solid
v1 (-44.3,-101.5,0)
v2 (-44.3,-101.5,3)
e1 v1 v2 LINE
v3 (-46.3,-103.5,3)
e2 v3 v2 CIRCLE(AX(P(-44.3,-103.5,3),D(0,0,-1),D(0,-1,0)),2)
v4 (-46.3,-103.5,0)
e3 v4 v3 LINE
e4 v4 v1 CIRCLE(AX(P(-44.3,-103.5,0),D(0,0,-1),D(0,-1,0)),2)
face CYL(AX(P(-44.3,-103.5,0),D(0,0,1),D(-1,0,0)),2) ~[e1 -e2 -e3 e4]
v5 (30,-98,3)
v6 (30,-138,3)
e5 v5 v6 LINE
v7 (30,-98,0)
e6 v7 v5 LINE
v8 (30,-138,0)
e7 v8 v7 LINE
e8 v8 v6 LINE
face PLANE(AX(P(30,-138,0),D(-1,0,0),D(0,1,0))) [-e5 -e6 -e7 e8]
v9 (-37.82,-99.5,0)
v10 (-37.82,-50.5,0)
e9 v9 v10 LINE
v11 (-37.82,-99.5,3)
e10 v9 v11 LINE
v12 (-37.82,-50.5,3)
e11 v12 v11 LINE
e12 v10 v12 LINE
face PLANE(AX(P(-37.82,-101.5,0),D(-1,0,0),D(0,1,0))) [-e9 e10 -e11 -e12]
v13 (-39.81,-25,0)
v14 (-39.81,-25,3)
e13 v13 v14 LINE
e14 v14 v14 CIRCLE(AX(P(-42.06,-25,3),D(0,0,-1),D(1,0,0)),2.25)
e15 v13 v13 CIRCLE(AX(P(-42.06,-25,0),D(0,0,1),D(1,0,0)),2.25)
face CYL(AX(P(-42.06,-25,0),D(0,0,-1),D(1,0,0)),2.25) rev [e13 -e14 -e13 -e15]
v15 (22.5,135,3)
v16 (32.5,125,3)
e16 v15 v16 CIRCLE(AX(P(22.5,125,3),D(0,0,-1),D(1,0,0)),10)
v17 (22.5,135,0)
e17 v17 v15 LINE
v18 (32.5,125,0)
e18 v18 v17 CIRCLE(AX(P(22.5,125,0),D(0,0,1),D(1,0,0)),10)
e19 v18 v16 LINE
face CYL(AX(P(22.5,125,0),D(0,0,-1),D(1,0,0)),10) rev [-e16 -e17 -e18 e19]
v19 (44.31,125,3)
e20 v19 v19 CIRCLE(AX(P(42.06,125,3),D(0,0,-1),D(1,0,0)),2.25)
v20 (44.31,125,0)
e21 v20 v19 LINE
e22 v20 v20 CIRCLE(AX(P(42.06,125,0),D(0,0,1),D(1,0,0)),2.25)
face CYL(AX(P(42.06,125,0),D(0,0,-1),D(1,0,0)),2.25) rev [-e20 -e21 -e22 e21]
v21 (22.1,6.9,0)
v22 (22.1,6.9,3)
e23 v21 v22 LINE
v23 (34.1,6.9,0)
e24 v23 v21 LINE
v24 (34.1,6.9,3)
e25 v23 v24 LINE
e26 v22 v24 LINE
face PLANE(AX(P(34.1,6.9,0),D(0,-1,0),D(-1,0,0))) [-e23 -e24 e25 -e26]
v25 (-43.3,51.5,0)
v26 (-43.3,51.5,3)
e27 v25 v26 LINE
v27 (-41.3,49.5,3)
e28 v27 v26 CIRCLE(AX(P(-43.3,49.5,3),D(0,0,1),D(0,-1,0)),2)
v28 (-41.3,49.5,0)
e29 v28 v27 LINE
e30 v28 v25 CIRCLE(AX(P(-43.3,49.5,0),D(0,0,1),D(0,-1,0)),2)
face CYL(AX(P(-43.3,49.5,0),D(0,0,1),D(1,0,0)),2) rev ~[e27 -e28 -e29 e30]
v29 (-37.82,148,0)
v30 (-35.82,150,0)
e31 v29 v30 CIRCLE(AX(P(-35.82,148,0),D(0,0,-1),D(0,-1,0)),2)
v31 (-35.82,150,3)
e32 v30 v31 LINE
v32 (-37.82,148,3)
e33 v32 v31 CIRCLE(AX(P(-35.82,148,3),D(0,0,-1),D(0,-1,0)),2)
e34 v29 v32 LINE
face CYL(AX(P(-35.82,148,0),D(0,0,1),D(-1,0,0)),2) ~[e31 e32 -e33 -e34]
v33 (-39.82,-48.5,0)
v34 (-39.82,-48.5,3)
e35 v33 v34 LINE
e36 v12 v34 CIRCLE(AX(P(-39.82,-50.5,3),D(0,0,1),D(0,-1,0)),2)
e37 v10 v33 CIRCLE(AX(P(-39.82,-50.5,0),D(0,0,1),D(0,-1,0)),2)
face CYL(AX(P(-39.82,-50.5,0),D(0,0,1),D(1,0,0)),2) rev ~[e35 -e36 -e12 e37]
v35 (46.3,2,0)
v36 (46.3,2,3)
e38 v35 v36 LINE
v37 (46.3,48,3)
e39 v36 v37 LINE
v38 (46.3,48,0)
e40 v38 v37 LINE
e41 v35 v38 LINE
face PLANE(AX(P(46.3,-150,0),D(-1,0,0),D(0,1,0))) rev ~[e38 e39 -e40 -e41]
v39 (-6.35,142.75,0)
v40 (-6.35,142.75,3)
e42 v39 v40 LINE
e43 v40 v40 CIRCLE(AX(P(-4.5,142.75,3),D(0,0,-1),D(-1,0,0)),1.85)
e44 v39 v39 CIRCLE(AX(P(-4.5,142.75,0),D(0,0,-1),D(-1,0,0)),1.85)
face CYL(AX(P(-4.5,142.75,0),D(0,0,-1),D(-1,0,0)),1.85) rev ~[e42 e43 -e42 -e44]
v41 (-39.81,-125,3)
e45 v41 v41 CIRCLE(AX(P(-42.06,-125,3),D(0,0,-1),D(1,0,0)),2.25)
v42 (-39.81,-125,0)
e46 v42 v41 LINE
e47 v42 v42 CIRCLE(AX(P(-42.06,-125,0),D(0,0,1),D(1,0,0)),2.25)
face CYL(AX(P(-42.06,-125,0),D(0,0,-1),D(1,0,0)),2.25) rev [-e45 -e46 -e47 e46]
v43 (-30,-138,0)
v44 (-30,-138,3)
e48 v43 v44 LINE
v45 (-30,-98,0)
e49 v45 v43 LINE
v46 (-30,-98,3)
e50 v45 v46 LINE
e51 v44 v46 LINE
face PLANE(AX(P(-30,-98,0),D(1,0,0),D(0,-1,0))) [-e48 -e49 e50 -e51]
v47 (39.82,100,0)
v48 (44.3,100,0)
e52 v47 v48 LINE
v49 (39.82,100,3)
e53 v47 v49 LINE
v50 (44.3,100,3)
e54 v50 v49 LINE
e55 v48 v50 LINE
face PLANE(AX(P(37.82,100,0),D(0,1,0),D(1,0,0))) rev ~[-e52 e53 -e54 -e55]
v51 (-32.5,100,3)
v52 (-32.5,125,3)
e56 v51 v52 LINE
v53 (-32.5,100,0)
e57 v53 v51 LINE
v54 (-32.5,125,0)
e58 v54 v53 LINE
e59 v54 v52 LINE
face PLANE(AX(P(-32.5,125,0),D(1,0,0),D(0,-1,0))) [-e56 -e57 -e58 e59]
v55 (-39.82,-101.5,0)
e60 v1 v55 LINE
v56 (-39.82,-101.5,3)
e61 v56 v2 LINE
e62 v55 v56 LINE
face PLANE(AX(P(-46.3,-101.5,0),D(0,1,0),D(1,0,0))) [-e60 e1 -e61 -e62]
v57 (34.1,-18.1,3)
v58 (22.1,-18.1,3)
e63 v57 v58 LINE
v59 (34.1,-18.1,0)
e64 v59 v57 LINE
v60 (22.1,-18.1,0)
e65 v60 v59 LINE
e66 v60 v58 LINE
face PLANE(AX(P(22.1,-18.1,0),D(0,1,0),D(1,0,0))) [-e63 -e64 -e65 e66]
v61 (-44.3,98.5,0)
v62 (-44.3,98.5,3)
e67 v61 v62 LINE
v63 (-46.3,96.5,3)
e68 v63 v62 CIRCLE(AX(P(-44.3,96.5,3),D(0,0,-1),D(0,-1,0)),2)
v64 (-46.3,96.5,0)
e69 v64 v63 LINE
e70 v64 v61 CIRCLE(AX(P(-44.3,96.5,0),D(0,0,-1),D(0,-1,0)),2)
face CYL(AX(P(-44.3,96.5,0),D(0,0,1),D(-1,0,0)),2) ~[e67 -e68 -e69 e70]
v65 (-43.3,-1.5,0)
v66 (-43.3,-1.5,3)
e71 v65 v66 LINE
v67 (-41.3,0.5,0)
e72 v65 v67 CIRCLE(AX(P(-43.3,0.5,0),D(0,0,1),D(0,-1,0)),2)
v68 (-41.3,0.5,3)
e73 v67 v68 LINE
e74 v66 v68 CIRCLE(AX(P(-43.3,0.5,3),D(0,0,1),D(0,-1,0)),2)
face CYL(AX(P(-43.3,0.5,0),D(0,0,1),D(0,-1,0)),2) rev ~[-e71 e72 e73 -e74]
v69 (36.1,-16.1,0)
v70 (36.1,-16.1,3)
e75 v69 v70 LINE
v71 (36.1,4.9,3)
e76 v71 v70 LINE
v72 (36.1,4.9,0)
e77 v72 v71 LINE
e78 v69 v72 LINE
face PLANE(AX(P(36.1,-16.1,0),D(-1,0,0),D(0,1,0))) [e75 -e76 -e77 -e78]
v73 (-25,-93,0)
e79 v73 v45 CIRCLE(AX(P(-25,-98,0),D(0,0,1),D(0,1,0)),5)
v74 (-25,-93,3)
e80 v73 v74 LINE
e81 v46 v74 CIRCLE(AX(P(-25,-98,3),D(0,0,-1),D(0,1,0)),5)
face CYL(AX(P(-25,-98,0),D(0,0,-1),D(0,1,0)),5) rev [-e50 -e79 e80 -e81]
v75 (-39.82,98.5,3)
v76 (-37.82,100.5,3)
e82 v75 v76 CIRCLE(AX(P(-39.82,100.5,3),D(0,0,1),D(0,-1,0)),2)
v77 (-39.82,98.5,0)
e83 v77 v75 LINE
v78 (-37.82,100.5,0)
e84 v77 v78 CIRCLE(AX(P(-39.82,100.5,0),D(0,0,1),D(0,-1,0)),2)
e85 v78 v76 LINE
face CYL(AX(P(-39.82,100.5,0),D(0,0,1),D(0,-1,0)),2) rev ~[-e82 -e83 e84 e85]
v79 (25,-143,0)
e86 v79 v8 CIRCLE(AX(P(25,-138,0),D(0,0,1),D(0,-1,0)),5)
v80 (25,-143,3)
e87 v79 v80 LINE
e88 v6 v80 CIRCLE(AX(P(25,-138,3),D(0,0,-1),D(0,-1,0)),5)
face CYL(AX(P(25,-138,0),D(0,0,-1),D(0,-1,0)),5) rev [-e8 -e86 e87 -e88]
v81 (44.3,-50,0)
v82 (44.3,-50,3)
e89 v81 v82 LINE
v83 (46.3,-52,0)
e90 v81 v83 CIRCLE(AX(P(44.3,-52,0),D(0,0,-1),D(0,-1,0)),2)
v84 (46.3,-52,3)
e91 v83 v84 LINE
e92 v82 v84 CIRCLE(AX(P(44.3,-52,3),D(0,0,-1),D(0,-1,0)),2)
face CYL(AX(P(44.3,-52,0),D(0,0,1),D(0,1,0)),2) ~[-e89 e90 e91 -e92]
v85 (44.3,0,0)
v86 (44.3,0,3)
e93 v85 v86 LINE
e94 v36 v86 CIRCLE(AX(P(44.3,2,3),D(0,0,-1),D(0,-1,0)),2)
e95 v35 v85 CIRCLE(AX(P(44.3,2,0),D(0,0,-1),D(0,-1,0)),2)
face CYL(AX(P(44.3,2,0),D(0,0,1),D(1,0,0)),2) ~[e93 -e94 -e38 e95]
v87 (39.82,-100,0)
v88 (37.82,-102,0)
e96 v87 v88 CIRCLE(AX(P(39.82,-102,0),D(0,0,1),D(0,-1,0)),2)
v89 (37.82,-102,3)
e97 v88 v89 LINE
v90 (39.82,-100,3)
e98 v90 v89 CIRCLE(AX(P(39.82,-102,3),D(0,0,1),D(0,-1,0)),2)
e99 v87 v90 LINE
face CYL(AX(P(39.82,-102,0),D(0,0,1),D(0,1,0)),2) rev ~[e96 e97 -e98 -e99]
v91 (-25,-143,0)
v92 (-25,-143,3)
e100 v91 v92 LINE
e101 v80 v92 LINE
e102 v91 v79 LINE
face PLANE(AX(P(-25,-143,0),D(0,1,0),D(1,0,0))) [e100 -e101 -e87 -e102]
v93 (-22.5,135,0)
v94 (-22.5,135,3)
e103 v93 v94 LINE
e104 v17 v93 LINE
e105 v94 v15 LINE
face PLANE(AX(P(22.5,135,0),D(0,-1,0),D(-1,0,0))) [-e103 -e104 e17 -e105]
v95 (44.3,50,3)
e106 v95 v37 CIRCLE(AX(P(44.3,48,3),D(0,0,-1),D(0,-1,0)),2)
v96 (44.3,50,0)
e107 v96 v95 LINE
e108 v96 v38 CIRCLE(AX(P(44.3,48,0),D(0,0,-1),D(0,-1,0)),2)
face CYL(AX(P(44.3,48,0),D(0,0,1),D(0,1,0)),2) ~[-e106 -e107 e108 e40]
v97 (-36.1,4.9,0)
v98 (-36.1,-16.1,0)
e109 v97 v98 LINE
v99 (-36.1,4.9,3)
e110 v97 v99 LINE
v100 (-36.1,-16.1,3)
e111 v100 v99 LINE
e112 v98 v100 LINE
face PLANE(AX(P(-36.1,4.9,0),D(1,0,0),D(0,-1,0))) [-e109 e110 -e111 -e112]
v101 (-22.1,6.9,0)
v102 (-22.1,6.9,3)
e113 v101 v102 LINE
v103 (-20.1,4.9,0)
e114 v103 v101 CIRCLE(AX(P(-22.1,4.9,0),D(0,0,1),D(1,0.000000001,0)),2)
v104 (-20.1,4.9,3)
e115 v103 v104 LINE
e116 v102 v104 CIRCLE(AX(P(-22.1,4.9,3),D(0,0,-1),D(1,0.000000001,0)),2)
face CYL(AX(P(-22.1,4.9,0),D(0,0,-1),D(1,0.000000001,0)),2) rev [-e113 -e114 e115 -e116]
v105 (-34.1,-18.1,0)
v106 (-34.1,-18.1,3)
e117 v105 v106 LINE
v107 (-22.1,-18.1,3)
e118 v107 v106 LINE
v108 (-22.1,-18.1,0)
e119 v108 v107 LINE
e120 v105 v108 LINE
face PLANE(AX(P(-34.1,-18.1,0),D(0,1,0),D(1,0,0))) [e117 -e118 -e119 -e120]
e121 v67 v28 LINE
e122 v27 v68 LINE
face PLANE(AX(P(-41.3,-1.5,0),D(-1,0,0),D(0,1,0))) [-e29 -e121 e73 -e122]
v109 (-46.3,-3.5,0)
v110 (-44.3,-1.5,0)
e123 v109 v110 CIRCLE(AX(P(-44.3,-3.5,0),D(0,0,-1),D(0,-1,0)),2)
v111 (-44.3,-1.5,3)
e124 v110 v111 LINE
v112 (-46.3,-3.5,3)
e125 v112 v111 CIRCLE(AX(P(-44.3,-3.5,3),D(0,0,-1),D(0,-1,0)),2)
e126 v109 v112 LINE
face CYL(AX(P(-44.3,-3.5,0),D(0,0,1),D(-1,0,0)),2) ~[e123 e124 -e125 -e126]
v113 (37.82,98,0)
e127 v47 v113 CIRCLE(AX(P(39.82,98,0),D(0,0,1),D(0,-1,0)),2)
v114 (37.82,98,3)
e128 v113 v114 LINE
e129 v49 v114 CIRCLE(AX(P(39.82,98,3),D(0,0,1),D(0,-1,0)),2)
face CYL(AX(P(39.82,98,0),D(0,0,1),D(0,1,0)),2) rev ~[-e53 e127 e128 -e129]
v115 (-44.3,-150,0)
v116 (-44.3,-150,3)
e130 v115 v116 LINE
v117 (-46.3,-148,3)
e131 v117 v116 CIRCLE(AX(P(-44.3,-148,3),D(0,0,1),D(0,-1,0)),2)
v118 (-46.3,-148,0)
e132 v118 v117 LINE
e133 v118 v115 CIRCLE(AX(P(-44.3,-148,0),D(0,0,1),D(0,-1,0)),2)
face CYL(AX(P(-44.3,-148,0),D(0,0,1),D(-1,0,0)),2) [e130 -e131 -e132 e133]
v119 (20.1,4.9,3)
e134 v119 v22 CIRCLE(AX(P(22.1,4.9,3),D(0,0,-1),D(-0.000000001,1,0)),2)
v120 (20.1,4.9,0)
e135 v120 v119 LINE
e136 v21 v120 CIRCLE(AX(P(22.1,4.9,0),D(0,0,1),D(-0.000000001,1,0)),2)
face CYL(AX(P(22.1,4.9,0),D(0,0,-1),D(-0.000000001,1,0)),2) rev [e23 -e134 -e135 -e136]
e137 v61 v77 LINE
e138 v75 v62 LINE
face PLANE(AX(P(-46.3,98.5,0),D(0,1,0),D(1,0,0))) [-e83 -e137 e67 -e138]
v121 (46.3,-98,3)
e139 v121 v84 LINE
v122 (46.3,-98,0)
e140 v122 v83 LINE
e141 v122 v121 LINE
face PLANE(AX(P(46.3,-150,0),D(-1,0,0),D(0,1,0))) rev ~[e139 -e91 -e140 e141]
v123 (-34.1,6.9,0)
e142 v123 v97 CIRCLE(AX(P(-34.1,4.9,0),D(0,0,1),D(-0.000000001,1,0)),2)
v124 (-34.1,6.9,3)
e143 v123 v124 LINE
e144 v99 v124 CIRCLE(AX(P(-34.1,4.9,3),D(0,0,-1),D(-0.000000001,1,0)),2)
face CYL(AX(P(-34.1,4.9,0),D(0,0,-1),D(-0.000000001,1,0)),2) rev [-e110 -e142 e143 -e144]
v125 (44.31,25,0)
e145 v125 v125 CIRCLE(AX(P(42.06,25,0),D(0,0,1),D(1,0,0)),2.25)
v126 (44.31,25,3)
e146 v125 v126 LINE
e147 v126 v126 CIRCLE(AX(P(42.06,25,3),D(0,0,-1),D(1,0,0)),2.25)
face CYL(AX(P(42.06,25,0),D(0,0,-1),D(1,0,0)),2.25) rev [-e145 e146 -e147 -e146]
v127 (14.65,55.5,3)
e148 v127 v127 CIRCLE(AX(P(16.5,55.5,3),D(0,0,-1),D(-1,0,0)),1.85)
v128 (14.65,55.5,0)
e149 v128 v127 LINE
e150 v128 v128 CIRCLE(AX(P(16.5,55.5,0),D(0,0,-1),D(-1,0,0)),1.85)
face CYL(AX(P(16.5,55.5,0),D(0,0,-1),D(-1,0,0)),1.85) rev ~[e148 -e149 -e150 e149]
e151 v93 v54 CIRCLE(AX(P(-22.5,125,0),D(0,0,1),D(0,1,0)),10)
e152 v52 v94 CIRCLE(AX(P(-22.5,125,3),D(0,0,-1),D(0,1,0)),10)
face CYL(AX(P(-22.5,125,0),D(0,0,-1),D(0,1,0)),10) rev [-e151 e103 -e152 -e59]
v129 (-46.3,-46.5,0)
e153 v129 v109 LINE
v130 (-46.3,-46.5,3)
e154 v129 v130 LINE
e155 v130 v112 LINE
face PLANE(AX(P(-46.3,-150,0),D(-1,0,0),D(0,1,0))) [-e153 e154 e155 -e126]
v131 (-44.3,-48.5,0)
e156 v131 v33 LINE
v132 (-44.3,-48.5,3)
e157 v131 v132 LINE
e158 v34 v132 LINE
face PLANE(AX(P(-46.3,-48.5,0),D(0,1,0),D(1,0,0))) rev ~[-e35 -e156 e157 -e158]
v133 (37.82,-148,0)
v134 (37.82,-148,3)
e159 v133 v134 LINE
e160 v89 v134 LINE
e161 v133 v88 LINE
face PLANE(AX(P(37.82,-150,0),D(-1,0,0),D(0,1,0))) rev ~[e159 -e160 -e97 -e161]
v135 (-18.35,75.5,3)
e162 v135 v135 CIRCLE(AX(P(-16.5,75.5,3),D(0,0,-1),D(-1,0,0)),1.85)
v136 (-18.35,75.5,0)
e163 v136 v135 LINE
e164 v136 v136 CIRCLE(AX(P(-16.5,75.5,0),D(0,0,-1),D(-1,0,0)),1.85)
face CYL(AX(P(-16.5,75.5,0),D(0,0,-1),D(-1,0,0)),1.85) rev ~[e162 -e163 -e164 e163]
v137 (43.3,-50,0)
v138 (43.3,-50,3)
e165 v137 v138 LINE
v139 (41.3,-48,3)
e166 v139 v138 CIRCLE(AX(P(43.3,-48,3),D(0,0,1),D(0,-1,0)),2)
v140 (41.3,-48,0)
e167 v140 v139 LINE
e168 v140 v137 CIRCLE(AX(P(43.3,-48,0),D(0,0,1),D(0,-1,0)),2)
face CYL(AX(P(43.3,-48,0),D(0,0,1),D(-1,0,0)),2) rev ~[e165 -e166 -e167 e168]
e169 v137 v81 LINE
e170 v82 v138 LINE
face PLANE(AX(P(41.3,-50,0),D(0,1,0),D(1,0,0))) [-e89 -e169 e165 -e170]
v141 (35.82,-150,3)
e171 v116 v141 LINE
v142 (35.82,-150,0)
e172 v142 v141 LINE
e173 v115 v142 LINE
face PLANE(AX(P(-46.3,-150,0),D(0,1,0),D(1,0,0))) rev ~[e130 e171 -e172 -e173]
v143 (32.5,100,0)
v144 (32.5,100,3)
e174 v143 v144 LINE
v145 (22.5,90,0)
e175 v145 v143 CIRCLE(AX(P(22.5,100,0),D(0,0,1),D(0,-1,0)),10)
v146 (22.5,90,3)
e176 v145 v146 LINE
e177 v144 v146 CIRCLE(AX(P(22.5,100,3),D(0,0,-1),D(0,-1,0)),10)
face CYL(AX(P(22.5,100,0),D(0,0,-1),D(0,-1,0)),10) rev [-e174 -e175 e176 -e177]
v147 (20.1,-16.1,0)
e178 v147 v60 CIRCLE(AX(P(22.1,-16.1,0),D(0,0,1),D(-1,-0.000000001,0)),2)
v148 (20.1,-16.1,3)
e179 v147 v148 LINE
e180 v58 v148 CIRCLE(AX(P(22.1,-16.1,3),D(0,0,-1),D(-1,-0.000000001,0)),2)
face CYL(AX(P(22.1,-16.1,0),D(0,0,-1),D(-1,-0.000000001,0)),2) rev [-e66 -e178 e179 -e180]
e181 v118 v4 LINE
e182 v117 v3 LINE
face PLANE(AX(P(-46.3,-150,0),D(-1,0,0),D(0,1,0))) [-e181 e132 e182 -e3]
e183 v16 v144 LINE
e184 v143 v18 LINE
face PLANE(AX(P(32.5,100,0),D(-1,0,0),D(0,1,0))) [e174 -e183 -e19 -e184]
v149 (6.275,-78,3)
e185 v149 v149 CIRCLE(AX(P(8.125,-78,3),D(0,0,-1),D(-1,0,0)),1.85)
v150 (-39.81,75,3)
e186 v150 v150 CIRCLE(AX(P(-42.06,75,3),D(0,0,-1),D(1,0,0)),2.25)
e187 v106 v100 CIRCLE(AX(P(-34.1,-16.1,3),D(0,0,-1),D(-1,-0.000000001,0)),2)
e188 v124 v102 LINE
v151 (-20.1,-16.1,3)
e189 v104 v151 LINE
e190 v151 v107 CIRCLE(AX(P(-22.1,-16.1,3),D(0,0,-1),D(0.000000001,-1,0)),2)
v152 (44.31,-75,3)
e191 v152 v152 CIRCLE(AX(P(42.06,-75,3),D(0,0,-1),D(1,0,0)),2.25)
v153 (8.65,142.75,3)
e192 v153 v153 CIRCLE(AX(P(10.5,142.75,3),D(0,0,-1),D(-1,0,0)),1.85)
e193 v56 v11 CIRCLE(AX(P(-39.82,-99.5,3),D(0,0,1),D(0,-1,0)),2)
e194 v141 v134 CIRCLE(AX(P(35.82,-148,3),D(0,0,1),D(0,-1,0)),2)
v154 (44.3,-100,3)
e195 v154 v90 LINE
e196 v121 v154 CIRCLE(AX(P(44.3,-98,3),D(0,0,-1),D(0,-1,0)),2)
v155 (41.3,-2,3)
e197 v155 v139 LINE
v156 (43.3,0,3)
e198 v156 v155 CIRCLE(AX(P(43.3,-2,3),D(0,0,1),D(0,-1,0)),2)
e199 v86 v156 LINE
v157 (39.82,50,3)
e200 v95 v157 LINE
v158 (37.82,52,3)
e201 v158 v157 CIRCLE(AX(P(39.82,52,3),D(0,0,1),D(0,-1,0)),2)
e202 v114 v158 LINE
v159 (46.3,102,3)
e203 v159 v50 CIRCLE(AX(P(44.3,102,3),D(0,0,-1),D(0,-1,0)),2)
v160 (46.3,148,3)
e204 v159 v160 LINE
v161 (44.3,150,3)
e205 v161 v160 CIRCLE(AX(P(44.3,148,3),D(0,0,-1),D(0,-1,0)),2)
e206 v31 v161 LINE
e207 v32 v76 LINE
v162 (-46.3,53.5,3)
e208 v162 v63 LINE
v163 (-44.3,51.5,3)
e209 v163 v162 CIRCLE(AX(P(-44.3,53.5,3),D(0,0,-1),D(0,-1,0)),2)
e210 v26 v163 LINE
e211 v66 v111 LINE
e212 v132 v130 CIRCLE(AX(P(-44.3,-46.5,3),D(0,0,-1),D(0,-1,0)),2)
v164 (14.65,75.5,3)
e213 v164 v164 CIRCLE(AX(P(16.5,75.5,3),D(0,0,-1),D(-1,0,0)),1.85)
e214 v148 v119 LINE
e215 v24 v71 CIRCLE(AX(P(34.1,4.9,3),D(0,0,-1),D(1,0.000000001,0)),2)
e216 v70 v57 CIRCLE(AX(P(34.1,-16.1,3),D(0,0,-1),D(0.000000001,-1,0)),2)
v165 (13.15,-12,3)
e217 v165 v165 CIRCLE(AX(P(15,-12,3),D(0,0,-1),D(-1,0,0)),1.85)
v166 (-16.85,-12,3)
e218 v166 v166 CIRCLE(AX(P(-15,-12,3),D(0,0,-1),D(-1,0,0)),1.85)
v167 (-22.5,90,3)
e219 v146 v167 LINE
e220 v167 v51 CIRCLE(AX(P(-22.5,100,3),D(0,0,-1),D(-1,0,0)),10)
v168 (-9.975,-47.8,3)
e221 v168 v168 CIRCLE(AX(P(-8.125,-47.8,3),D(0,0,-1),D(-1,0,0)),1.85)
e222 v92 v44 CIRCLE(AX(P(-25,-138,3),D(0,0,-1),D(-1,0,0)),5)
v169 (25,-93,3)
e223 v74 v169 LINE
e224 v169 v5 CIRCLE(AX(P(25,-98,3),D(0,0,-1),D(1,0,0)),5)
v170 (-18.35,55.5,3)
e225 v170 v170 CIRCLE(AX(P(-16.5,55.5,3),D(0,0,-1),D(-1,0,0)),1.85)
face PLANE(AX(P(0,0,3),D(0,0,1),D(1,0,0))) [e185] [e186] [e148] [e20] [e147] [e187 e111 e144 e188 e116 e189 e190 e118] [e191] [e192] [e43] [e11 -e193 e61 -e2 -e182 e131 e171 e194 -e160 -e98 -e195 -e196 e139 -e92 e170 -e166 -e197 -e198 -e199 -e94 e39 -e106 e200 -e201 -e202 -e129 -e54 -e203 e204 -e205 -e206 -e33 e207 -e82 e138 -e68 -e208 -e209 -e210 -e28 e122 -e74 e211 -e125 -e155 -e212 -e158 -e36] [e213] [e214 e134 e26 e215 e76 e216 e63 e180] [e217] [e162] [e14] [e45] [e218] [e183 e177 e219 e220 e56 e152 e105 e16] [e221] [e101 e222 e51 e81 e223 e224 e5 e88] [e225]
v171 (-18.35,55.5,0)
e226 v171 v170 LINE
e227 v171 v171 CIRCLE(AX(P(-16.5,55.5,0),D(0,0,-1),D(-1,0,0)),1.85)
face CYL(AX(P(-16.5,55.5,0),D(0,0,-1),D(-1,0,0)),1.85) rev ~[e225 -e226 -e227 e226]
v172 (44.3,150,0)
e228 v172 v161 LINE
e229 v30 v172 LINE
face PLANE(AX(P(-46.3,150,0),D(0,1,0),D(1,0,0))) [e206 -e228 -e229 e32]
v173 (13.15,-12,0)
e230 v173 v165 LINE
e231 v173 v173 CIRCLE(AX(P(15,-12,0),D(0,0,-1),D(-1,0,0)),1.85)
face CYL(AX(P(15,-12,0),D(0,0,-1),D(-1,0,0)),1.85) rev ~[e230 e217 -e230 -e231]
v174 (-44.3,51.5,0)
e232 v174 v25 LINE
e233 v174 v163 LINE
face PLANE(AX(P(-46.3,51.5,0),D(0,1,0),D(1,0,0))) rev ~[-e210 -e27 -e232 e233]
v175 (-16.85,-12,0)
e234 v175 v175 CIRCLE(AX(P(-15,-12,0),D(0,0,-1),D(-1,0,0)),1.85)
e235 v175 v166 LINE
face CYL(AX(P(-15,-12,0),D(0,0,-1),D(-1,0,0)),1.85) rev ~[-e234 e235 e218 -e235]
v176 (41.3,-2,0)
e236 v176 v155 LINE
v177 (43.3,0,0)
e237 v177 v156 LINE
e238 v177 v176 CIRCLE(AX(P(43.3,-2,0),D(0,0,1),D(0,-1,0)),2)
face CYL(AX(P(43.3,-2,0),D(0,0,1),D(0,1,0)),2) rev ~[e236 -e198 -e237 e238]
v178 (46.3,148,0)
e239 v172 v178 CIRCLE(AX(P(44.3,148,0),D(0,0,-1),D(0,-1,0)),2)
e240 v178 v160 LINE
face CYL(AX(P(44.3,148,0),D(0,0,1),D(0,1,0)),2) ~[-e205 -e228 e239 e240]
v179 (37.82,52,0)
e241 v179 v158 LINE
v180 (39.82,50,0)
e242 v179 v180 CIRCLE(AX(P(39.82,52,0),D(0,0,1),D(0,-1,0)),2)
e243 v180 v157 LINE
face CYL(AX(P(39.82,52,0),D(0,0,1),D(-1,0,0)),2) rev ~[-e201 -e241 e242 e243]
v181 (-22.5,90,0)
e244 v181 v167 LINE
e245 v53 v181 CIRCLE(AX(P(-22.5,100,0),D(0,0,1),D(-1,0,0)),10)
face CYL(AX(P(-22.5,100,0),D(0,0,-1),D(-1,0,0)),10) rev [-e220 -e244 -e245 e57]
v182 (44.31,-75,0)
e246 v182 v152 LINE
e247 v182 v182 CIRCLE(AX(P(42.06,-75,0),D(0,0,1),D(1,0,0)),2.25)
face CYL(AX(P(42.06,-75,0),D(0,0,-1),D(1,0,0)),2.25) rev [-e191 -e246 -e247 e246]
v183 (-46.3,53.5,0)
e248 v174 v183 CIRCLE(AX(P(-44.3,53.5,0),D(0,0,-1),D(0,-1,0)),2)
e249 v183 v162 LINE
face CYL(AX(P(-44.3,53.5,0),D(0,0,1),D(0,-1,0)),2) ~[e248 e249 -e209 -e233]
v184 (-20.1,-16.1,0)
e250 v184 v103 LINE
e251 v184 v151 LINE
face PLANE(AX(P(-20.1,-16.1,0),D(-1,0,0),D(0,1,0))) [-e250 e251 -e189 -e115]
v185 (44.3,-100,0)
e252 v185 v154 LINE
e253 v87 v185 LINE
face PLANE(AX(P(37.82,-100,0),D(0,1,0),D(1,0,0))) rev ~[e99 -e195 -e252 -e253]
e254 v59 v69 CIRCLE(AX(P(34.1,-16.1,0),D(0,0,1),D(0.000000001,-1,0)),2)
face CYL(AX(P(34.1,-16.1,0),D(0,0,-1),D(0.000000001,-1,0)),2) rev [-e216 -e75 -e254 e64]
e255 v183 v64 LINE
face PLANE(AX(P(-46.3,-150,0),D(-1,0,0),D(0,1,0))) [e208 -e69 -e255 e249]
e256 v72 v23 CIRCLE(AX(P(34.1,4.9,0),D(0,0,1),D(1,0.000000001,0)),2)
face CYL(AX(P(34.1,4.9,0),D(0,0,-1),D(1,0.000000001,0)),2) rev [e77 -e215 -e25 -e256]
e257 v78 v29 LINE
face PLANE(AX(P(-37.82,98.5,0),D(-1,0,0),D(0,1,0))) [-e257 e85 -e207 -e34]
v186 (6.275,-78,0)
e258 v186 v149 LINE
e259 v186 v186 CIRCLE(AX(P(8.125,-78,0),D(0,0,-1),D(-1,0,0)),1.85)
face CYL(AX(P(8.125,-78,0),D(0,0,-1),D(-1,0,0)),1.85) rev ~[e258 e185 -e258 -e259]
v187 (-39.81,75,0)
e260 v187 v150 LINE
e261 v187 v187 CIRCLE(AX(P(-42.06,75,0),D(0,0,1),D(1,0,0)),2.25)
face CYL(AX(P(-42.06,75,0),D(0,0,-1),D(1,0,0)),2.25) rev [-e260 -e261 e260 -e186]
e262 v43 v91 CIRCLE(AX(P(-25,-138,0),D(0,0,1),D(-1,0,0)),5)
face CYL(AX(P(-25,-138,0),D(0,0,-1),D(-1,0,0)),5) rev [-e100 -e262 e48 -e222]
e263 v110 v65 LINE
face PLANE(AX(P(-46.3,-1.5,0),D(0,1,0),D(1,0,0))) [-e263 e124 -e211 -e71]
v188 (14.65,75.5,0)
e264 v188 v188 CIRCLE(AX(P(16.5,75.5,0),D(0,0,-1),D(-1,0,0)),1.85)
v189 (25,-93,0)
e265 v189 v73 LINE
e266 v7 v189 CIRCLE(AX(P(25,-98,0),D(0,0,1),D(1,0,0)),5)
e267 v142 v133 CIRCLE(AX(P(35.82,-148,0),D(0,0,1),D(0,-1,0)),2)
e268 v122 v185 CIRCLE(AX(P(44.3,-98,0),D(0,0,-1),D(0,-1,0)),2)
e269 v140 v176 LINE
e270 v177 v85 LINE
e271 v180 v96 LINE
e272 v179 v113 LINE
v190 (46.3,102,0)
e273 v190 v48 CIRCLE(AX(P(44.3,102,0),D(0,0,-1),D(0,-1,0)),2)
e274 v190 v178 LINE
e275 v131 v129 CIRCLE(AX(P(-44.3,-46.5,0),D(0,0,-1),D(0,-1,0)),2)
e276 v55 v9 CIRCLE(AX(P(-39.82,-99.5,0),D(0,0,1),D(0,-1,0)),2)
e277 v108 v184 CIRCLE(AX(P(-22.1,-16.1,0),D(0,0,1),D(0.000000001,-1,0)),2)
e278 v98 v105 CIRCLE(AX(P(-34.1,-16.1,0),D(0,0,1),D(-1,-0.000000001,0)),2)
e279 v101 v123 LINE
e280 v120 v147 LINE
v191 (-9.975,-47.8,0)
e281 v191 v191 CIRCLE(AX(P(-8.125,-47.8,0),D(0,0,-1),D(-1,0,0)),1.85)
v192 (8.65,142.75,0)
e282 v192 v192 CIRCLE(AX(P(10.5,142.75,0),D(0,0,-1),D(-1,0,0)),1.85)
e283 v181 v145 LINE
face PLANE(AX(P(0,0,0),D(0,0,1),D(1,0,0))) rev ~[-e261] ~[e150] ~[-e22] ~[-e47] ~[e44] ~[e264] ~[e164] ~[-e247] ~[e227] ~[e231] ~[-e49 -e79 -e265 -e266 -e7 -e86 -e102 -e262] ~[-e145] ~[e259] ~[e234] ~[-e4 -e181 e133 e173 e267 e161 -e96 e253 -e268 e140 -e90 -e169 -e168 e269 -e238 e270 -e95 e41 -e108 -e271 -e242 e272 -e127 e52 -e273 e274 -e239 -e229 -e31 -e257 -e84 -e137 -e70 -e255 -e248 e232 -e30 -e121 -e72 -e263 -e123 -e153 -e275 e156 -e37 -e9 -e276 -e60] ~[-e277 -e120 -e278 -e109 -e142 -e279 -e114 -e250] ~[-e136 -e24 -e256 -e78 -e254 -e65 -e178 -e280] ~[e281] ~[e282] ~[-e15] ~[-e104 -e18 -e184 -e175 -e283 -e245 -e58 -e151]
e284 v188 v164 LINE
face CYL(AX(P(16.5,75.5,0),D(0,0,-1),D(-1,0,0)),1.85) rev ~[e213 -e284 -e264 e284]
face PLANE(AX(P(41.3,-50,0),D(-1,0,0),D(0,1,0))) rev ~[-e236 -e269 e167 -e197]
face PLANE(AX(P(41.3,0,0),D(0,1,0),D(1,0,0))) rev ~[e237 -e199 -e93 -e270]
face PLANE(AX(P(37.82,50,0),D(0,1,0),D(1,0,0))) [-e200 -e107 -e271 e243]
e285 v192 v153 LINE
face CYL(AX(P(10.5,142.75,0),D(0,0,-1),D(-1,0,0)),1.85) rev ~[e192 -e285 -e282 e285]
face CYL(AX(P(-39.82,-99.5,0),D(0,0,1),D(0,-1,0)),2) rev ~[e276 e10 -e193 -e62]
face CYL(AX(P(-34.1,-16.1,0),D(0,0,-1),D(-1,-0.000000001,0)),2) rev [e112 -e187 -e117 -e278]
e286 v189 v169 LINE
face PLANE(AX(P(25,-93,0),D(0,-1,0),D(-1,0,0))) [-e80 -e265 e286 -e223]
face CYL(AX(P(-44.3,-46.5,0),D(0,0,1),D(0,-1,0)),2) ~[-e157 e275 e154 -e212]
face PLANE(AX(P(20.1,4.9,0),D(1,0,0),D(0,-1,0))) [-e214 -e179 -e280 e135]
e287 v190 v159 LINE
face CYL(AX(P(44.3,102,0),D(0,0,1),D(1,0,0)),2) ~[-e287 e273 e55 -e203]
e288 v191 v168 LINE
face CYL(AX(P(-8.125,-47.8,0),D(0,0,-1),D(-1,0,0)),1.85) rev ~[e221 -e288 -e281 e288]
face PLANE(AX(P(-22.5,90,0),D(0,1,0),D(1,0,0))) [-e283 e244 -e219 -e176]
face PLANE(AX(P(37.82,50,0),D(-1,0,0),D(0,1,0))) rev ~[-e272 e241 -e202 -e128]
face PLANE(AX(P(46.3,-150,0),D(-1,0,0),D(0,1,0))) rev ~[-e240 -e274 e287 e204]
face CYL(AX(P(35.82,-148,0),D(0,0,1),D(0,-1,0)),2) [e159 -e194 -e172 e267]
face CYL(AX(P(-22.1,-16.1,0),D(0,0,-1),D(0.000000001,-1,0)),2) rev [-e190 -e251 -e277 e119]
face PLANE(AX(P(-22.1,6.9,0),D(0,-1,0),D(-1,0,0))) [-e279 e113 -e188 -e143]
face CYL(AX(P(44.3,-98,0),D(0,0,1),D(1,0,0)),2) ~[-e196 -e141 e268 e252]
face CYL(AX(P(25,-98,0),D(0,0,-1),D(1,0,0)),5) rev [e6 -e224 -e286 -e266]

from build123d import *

# Parameters (mm, degrees)
SKETCH1_W           = 92.6
SKETCH1_H           = 300
BOSS_EXTRUDE1_DEPTH = 3
SKETCH3_R           = 2.25
SKETCH3_W           = 8.48
SKETCH3_H           = 51.5
SKETCH3_H_2         = 50
SKETCH3_W_2         = 5
SKETCH3_H_3         = 53
CUT_EXTRUDE2_DEPTH  = 10
FILLET1_R           = 2
SKETCH4_R           = 1.85
CUT_EXTRUDE3_DEPTH  = 5
SKETCH5_R           = 1.85
CUT_EXTRUDE4_DEPTH  = 10
SKETCH6_R           = 1.85
CUT_EXTRUDE5_DEPTH  = 8.5
CUT_EXTRUDE6_DEPTH  = 8.5
SKETCH9_R           = 1.85
CUT_EXTRUDE7_DEPTH  = 10


with BuildPart() as part:
    # Sketch1 → Boss-Extrude1 (new body)
    with BuildSketch(Plane.XY):
        Rectangle(SKETCH1_W, SKETCH1_H)
    extrude(amount=BOSS_EXTRUDE1_DEPTH)

    # Sketch3 → Cut-Extrude2 (cut)
    with BuildSketch(Plane.XY):
        with Locations((-42.06, 75)):
            Circle(SKETCH3_R)
        with Locations((42.06, 125)):
            Circle(SKETCH3_R)
        with Locations((42.06, 25)):
            Circle(SKETCH3_R)
        with Locations((42.06, -75)):
            Circle(SKETCH3_R)
        with Locations((-42.06, -25)):
            Circle(SKETCH3_R)
        with Locations((-42.06, -125)):
            Circle(SKETCH3_R)
        with Locations((-42.06, 124.25)):
            Rectangle(SKETCH3_W, SKETCH3_H)
        with Locations((42.06, 75)):
            Rectangle(SKETCH3_W, SKETCH3_H_2)
        with Locations((43.8, -25)):
            Rectangle(SKETCH3_W_2, SKETCH3_H_2)
        with Locations((-43.8, 25)):
            Rectangle(SKETCH3_W_2, SKETCH3_H_3)
        with Locations((-42.06, -75)):
            Rectangle(SKETCH3_W, SKETCH3_H_3)
        with Locations((42.06, -125)):
            Rectangle(SKETCH3_W, SKETCH3_H_2)
    extrude(amount=CUT_EXTRUDE2_DEPTH, mode=Mode.SUBTRACT)

    # Fillet1
    fillet1_edges = [part.edges().sort_by_distance(p)[0] for p in [
        (46.3, -100, 1.5),
        (37.82, -100, 1.5),
        (37.82, -150, 1.5),
        (46.3, 50, 1.5),
        (46.3, 100, 1.5),
        (37.82, 100, 1.5),
        (37.82, 50, 1.5),
        (-46.3, -48.5, 1.5),
        (-46.3, -101.5, 1.5),
        (-37.82, -101.5, 1.5),
        (-37.82, -48.5, 1.5),
        (41.3, 0, 1.5),
        (41.3, -50, 1.5),
        (46.3, -50, 1.5),
        (46.3, 0, 1.5),
        (46.3, 150, 1.5),
        (-46.3, 51.5, 1.5),
        (-46.3, -150, 1.5),
        (-46.3, -1.5, 1.5),
        (-41.3, -1.5, 1.5),
        (-41.3, 51.5, 1.5),
        (-46.3, 98.5, 1.5),
        (-37.82, 98.5, 1.5),
        (-37.82, 150, 1.5),
    ]]
    fillet(fillet1_edges, radius=FILLET1_R)

    # Sketch4 → Cut-Extrude3 (cut)
    with BuildSketch(Plane(origin=(0, 0, 0), x_dir=(-1, 0, 0), z_dir=(0, 0, -1))):
        with Locations((8.125, -47.8)):
            Circle(SKETCH4_R)
        with Locations((-8.125, -78)):
            Circle(SKETCH4_R)
    extrude(amount=-CUT_EXTRUDE3_DEPTH, mode=Mode.SUBTRACT)

    # Sketch5 → Cut-Extrude4 (cut)
    with BuildSketch(Plane(origin=(0, 0, 0), x_dir=(-1, 0, 0), z_dir=(0, 0, -1))):
        with Locations((-15, -12)):
            Circle(SKETCH5_R)
        with Locations((15, -12)):
            Circle(SKETCH5_R)
        with BuildLine():
            Line((-22.1, -18.1), (-34.1, -18.1))
            ThreePointArc((-34.1, -18.1), (-35.514213562, -17.514213562), (-36.1, -16.1))
            Line((-36.1, -16.1), (-36.1, 4.9))
            ThreePointArc((-36.1, 4.9), (-35.514213562, 6.314213562), (-34.1, 6.9))
            Line((-34.1, 6.9), (-22.1, 6.9))
            ThreePointArc((-22.1, 6.9), (-20.685786438, 6.314213562), (-20.1, 4.9))
            Line((-20.1, 4.9), (-20.1, -16.1))
            ThreePointArc((-20.1, -16.1), (-20.685786438, -17.514213562), (-22.1, -18.1))
        make_face()
        with BuildLine():
            Line((34.1, -18.1), (22.1, -18.1))
            ThreePointArc((22.1, -18.1), (20.685786438, -17.514213562), (20.1, -16.1))
            Line((20.1, -16.1), (20.1, 4.9))
            ThreePointArc((20.1, 4.9), (20.685786438, 6.314213562), (22.1, 6.9))
            Line((22.1, 6.9), (34.1, 6.9))
            ThreePointArc((34.1, 6.9), (35.514213562, 6.314213562), (36.1, 4.9))
            Line((36.1, 4.9), (36.1, -16.1))
            ThreePointArc((36.1, -16.1), (35.514213562, -17.514213562), (34.1, -18.1))
        make_face()
    extrude(amount=-CUT_EXTRUDE4_DEPTH, mode=Mode.SUBTRACT)

    # Sketch6 → Cut-Extrude5 (cut)
    with BuildSketch(Plane(origin=(0, 0, 0), x_dir=(-1, 0, 0), z_dir=(0, 0, -1))):
        with Locations((16.5, 55.5)):
            Circle(SKETCH6_R)
        with Locations((-16.5, 55.5)):
            Circle(SKETCH6_R)
        with Locations((-16.5, 75.5)):
            Circle(SKETCH6_R)
        with Locations((16.5, 75.5)):
            Circle(SKETCH6_R)
    extrude(amount=-CUT_EXTRUDE5_DEPTH, mode=Mode.SUBTRACT)

    # Sketch7 → Cut-Extrude6 (cut)
    with BuildSketch(Plane(origin=(0, 0, 0), x_dir=(-1, 0, 0), z_dir=(0, 0, -1))):
        with BuildLine():
            Line((22.5, 90), (-22.5, 90))
            ThreePointArc((-22.5, 90), (-29.571067812, 92.928932188), (-32.5, 100))
            Line((-32.5, 100), (-32.5, 125))
            ThreePointArc((-32.5, 125), (-29.571067812, 132.071067812), (-22.5, 135))
            Line((-22.5, 135), (22.5, 135))
            ThreePointArc((22.5, 135), (29.571067812, 132.071067812), (32.5, 125))
            Line((32.5, 125), (32.5, 100))
            ThreePointArc((32.5, 100), (29.571067812, 92.928932188), (22.5, 90))
        make_face()
        with BuildLine():
            Line((25, -143), (-25, -143))
            ThreePointArc((-25, -143), (-28.535533906, -141.535533906), (-30, -138))
            Line((-30, -138), (-30, -98))
            ThreePointArc((-30, -98), (-28.535533906, -94.464466094), (-25, -93))
            Line((-25, -93), (25, -93))
            ThreePointArc((25, -93), (28.535533906, -94.464466094), (30, -98))
            Line((30, -98), (30, -138))
            ThreePointArc((30, -138), (28.535533906, -141.535533906), (25, -143))
        make_face()
    extrude(amount=-CUT_EXTRUDE6_DEPTH, mode=Mode.SUBTRACT)

    # Sketch9 → Cut-Extrude7 (cut)
    with BuildSketch(Plane(origin=(0, 0, 0), x_dir=(-1, 0, 0), z_dir=(0, 0, -1))):
        with Locations((-10.5, 142.75)):
            Circle(SKETCH9_R)
        with Locations((4.5, 142.75)):
            Circle(SKETCH9_R)
    extrude(amount=-CUT_EXTRUDE7_DEPTH, mode=Mode.SUBTRACT)


solid = part.part
